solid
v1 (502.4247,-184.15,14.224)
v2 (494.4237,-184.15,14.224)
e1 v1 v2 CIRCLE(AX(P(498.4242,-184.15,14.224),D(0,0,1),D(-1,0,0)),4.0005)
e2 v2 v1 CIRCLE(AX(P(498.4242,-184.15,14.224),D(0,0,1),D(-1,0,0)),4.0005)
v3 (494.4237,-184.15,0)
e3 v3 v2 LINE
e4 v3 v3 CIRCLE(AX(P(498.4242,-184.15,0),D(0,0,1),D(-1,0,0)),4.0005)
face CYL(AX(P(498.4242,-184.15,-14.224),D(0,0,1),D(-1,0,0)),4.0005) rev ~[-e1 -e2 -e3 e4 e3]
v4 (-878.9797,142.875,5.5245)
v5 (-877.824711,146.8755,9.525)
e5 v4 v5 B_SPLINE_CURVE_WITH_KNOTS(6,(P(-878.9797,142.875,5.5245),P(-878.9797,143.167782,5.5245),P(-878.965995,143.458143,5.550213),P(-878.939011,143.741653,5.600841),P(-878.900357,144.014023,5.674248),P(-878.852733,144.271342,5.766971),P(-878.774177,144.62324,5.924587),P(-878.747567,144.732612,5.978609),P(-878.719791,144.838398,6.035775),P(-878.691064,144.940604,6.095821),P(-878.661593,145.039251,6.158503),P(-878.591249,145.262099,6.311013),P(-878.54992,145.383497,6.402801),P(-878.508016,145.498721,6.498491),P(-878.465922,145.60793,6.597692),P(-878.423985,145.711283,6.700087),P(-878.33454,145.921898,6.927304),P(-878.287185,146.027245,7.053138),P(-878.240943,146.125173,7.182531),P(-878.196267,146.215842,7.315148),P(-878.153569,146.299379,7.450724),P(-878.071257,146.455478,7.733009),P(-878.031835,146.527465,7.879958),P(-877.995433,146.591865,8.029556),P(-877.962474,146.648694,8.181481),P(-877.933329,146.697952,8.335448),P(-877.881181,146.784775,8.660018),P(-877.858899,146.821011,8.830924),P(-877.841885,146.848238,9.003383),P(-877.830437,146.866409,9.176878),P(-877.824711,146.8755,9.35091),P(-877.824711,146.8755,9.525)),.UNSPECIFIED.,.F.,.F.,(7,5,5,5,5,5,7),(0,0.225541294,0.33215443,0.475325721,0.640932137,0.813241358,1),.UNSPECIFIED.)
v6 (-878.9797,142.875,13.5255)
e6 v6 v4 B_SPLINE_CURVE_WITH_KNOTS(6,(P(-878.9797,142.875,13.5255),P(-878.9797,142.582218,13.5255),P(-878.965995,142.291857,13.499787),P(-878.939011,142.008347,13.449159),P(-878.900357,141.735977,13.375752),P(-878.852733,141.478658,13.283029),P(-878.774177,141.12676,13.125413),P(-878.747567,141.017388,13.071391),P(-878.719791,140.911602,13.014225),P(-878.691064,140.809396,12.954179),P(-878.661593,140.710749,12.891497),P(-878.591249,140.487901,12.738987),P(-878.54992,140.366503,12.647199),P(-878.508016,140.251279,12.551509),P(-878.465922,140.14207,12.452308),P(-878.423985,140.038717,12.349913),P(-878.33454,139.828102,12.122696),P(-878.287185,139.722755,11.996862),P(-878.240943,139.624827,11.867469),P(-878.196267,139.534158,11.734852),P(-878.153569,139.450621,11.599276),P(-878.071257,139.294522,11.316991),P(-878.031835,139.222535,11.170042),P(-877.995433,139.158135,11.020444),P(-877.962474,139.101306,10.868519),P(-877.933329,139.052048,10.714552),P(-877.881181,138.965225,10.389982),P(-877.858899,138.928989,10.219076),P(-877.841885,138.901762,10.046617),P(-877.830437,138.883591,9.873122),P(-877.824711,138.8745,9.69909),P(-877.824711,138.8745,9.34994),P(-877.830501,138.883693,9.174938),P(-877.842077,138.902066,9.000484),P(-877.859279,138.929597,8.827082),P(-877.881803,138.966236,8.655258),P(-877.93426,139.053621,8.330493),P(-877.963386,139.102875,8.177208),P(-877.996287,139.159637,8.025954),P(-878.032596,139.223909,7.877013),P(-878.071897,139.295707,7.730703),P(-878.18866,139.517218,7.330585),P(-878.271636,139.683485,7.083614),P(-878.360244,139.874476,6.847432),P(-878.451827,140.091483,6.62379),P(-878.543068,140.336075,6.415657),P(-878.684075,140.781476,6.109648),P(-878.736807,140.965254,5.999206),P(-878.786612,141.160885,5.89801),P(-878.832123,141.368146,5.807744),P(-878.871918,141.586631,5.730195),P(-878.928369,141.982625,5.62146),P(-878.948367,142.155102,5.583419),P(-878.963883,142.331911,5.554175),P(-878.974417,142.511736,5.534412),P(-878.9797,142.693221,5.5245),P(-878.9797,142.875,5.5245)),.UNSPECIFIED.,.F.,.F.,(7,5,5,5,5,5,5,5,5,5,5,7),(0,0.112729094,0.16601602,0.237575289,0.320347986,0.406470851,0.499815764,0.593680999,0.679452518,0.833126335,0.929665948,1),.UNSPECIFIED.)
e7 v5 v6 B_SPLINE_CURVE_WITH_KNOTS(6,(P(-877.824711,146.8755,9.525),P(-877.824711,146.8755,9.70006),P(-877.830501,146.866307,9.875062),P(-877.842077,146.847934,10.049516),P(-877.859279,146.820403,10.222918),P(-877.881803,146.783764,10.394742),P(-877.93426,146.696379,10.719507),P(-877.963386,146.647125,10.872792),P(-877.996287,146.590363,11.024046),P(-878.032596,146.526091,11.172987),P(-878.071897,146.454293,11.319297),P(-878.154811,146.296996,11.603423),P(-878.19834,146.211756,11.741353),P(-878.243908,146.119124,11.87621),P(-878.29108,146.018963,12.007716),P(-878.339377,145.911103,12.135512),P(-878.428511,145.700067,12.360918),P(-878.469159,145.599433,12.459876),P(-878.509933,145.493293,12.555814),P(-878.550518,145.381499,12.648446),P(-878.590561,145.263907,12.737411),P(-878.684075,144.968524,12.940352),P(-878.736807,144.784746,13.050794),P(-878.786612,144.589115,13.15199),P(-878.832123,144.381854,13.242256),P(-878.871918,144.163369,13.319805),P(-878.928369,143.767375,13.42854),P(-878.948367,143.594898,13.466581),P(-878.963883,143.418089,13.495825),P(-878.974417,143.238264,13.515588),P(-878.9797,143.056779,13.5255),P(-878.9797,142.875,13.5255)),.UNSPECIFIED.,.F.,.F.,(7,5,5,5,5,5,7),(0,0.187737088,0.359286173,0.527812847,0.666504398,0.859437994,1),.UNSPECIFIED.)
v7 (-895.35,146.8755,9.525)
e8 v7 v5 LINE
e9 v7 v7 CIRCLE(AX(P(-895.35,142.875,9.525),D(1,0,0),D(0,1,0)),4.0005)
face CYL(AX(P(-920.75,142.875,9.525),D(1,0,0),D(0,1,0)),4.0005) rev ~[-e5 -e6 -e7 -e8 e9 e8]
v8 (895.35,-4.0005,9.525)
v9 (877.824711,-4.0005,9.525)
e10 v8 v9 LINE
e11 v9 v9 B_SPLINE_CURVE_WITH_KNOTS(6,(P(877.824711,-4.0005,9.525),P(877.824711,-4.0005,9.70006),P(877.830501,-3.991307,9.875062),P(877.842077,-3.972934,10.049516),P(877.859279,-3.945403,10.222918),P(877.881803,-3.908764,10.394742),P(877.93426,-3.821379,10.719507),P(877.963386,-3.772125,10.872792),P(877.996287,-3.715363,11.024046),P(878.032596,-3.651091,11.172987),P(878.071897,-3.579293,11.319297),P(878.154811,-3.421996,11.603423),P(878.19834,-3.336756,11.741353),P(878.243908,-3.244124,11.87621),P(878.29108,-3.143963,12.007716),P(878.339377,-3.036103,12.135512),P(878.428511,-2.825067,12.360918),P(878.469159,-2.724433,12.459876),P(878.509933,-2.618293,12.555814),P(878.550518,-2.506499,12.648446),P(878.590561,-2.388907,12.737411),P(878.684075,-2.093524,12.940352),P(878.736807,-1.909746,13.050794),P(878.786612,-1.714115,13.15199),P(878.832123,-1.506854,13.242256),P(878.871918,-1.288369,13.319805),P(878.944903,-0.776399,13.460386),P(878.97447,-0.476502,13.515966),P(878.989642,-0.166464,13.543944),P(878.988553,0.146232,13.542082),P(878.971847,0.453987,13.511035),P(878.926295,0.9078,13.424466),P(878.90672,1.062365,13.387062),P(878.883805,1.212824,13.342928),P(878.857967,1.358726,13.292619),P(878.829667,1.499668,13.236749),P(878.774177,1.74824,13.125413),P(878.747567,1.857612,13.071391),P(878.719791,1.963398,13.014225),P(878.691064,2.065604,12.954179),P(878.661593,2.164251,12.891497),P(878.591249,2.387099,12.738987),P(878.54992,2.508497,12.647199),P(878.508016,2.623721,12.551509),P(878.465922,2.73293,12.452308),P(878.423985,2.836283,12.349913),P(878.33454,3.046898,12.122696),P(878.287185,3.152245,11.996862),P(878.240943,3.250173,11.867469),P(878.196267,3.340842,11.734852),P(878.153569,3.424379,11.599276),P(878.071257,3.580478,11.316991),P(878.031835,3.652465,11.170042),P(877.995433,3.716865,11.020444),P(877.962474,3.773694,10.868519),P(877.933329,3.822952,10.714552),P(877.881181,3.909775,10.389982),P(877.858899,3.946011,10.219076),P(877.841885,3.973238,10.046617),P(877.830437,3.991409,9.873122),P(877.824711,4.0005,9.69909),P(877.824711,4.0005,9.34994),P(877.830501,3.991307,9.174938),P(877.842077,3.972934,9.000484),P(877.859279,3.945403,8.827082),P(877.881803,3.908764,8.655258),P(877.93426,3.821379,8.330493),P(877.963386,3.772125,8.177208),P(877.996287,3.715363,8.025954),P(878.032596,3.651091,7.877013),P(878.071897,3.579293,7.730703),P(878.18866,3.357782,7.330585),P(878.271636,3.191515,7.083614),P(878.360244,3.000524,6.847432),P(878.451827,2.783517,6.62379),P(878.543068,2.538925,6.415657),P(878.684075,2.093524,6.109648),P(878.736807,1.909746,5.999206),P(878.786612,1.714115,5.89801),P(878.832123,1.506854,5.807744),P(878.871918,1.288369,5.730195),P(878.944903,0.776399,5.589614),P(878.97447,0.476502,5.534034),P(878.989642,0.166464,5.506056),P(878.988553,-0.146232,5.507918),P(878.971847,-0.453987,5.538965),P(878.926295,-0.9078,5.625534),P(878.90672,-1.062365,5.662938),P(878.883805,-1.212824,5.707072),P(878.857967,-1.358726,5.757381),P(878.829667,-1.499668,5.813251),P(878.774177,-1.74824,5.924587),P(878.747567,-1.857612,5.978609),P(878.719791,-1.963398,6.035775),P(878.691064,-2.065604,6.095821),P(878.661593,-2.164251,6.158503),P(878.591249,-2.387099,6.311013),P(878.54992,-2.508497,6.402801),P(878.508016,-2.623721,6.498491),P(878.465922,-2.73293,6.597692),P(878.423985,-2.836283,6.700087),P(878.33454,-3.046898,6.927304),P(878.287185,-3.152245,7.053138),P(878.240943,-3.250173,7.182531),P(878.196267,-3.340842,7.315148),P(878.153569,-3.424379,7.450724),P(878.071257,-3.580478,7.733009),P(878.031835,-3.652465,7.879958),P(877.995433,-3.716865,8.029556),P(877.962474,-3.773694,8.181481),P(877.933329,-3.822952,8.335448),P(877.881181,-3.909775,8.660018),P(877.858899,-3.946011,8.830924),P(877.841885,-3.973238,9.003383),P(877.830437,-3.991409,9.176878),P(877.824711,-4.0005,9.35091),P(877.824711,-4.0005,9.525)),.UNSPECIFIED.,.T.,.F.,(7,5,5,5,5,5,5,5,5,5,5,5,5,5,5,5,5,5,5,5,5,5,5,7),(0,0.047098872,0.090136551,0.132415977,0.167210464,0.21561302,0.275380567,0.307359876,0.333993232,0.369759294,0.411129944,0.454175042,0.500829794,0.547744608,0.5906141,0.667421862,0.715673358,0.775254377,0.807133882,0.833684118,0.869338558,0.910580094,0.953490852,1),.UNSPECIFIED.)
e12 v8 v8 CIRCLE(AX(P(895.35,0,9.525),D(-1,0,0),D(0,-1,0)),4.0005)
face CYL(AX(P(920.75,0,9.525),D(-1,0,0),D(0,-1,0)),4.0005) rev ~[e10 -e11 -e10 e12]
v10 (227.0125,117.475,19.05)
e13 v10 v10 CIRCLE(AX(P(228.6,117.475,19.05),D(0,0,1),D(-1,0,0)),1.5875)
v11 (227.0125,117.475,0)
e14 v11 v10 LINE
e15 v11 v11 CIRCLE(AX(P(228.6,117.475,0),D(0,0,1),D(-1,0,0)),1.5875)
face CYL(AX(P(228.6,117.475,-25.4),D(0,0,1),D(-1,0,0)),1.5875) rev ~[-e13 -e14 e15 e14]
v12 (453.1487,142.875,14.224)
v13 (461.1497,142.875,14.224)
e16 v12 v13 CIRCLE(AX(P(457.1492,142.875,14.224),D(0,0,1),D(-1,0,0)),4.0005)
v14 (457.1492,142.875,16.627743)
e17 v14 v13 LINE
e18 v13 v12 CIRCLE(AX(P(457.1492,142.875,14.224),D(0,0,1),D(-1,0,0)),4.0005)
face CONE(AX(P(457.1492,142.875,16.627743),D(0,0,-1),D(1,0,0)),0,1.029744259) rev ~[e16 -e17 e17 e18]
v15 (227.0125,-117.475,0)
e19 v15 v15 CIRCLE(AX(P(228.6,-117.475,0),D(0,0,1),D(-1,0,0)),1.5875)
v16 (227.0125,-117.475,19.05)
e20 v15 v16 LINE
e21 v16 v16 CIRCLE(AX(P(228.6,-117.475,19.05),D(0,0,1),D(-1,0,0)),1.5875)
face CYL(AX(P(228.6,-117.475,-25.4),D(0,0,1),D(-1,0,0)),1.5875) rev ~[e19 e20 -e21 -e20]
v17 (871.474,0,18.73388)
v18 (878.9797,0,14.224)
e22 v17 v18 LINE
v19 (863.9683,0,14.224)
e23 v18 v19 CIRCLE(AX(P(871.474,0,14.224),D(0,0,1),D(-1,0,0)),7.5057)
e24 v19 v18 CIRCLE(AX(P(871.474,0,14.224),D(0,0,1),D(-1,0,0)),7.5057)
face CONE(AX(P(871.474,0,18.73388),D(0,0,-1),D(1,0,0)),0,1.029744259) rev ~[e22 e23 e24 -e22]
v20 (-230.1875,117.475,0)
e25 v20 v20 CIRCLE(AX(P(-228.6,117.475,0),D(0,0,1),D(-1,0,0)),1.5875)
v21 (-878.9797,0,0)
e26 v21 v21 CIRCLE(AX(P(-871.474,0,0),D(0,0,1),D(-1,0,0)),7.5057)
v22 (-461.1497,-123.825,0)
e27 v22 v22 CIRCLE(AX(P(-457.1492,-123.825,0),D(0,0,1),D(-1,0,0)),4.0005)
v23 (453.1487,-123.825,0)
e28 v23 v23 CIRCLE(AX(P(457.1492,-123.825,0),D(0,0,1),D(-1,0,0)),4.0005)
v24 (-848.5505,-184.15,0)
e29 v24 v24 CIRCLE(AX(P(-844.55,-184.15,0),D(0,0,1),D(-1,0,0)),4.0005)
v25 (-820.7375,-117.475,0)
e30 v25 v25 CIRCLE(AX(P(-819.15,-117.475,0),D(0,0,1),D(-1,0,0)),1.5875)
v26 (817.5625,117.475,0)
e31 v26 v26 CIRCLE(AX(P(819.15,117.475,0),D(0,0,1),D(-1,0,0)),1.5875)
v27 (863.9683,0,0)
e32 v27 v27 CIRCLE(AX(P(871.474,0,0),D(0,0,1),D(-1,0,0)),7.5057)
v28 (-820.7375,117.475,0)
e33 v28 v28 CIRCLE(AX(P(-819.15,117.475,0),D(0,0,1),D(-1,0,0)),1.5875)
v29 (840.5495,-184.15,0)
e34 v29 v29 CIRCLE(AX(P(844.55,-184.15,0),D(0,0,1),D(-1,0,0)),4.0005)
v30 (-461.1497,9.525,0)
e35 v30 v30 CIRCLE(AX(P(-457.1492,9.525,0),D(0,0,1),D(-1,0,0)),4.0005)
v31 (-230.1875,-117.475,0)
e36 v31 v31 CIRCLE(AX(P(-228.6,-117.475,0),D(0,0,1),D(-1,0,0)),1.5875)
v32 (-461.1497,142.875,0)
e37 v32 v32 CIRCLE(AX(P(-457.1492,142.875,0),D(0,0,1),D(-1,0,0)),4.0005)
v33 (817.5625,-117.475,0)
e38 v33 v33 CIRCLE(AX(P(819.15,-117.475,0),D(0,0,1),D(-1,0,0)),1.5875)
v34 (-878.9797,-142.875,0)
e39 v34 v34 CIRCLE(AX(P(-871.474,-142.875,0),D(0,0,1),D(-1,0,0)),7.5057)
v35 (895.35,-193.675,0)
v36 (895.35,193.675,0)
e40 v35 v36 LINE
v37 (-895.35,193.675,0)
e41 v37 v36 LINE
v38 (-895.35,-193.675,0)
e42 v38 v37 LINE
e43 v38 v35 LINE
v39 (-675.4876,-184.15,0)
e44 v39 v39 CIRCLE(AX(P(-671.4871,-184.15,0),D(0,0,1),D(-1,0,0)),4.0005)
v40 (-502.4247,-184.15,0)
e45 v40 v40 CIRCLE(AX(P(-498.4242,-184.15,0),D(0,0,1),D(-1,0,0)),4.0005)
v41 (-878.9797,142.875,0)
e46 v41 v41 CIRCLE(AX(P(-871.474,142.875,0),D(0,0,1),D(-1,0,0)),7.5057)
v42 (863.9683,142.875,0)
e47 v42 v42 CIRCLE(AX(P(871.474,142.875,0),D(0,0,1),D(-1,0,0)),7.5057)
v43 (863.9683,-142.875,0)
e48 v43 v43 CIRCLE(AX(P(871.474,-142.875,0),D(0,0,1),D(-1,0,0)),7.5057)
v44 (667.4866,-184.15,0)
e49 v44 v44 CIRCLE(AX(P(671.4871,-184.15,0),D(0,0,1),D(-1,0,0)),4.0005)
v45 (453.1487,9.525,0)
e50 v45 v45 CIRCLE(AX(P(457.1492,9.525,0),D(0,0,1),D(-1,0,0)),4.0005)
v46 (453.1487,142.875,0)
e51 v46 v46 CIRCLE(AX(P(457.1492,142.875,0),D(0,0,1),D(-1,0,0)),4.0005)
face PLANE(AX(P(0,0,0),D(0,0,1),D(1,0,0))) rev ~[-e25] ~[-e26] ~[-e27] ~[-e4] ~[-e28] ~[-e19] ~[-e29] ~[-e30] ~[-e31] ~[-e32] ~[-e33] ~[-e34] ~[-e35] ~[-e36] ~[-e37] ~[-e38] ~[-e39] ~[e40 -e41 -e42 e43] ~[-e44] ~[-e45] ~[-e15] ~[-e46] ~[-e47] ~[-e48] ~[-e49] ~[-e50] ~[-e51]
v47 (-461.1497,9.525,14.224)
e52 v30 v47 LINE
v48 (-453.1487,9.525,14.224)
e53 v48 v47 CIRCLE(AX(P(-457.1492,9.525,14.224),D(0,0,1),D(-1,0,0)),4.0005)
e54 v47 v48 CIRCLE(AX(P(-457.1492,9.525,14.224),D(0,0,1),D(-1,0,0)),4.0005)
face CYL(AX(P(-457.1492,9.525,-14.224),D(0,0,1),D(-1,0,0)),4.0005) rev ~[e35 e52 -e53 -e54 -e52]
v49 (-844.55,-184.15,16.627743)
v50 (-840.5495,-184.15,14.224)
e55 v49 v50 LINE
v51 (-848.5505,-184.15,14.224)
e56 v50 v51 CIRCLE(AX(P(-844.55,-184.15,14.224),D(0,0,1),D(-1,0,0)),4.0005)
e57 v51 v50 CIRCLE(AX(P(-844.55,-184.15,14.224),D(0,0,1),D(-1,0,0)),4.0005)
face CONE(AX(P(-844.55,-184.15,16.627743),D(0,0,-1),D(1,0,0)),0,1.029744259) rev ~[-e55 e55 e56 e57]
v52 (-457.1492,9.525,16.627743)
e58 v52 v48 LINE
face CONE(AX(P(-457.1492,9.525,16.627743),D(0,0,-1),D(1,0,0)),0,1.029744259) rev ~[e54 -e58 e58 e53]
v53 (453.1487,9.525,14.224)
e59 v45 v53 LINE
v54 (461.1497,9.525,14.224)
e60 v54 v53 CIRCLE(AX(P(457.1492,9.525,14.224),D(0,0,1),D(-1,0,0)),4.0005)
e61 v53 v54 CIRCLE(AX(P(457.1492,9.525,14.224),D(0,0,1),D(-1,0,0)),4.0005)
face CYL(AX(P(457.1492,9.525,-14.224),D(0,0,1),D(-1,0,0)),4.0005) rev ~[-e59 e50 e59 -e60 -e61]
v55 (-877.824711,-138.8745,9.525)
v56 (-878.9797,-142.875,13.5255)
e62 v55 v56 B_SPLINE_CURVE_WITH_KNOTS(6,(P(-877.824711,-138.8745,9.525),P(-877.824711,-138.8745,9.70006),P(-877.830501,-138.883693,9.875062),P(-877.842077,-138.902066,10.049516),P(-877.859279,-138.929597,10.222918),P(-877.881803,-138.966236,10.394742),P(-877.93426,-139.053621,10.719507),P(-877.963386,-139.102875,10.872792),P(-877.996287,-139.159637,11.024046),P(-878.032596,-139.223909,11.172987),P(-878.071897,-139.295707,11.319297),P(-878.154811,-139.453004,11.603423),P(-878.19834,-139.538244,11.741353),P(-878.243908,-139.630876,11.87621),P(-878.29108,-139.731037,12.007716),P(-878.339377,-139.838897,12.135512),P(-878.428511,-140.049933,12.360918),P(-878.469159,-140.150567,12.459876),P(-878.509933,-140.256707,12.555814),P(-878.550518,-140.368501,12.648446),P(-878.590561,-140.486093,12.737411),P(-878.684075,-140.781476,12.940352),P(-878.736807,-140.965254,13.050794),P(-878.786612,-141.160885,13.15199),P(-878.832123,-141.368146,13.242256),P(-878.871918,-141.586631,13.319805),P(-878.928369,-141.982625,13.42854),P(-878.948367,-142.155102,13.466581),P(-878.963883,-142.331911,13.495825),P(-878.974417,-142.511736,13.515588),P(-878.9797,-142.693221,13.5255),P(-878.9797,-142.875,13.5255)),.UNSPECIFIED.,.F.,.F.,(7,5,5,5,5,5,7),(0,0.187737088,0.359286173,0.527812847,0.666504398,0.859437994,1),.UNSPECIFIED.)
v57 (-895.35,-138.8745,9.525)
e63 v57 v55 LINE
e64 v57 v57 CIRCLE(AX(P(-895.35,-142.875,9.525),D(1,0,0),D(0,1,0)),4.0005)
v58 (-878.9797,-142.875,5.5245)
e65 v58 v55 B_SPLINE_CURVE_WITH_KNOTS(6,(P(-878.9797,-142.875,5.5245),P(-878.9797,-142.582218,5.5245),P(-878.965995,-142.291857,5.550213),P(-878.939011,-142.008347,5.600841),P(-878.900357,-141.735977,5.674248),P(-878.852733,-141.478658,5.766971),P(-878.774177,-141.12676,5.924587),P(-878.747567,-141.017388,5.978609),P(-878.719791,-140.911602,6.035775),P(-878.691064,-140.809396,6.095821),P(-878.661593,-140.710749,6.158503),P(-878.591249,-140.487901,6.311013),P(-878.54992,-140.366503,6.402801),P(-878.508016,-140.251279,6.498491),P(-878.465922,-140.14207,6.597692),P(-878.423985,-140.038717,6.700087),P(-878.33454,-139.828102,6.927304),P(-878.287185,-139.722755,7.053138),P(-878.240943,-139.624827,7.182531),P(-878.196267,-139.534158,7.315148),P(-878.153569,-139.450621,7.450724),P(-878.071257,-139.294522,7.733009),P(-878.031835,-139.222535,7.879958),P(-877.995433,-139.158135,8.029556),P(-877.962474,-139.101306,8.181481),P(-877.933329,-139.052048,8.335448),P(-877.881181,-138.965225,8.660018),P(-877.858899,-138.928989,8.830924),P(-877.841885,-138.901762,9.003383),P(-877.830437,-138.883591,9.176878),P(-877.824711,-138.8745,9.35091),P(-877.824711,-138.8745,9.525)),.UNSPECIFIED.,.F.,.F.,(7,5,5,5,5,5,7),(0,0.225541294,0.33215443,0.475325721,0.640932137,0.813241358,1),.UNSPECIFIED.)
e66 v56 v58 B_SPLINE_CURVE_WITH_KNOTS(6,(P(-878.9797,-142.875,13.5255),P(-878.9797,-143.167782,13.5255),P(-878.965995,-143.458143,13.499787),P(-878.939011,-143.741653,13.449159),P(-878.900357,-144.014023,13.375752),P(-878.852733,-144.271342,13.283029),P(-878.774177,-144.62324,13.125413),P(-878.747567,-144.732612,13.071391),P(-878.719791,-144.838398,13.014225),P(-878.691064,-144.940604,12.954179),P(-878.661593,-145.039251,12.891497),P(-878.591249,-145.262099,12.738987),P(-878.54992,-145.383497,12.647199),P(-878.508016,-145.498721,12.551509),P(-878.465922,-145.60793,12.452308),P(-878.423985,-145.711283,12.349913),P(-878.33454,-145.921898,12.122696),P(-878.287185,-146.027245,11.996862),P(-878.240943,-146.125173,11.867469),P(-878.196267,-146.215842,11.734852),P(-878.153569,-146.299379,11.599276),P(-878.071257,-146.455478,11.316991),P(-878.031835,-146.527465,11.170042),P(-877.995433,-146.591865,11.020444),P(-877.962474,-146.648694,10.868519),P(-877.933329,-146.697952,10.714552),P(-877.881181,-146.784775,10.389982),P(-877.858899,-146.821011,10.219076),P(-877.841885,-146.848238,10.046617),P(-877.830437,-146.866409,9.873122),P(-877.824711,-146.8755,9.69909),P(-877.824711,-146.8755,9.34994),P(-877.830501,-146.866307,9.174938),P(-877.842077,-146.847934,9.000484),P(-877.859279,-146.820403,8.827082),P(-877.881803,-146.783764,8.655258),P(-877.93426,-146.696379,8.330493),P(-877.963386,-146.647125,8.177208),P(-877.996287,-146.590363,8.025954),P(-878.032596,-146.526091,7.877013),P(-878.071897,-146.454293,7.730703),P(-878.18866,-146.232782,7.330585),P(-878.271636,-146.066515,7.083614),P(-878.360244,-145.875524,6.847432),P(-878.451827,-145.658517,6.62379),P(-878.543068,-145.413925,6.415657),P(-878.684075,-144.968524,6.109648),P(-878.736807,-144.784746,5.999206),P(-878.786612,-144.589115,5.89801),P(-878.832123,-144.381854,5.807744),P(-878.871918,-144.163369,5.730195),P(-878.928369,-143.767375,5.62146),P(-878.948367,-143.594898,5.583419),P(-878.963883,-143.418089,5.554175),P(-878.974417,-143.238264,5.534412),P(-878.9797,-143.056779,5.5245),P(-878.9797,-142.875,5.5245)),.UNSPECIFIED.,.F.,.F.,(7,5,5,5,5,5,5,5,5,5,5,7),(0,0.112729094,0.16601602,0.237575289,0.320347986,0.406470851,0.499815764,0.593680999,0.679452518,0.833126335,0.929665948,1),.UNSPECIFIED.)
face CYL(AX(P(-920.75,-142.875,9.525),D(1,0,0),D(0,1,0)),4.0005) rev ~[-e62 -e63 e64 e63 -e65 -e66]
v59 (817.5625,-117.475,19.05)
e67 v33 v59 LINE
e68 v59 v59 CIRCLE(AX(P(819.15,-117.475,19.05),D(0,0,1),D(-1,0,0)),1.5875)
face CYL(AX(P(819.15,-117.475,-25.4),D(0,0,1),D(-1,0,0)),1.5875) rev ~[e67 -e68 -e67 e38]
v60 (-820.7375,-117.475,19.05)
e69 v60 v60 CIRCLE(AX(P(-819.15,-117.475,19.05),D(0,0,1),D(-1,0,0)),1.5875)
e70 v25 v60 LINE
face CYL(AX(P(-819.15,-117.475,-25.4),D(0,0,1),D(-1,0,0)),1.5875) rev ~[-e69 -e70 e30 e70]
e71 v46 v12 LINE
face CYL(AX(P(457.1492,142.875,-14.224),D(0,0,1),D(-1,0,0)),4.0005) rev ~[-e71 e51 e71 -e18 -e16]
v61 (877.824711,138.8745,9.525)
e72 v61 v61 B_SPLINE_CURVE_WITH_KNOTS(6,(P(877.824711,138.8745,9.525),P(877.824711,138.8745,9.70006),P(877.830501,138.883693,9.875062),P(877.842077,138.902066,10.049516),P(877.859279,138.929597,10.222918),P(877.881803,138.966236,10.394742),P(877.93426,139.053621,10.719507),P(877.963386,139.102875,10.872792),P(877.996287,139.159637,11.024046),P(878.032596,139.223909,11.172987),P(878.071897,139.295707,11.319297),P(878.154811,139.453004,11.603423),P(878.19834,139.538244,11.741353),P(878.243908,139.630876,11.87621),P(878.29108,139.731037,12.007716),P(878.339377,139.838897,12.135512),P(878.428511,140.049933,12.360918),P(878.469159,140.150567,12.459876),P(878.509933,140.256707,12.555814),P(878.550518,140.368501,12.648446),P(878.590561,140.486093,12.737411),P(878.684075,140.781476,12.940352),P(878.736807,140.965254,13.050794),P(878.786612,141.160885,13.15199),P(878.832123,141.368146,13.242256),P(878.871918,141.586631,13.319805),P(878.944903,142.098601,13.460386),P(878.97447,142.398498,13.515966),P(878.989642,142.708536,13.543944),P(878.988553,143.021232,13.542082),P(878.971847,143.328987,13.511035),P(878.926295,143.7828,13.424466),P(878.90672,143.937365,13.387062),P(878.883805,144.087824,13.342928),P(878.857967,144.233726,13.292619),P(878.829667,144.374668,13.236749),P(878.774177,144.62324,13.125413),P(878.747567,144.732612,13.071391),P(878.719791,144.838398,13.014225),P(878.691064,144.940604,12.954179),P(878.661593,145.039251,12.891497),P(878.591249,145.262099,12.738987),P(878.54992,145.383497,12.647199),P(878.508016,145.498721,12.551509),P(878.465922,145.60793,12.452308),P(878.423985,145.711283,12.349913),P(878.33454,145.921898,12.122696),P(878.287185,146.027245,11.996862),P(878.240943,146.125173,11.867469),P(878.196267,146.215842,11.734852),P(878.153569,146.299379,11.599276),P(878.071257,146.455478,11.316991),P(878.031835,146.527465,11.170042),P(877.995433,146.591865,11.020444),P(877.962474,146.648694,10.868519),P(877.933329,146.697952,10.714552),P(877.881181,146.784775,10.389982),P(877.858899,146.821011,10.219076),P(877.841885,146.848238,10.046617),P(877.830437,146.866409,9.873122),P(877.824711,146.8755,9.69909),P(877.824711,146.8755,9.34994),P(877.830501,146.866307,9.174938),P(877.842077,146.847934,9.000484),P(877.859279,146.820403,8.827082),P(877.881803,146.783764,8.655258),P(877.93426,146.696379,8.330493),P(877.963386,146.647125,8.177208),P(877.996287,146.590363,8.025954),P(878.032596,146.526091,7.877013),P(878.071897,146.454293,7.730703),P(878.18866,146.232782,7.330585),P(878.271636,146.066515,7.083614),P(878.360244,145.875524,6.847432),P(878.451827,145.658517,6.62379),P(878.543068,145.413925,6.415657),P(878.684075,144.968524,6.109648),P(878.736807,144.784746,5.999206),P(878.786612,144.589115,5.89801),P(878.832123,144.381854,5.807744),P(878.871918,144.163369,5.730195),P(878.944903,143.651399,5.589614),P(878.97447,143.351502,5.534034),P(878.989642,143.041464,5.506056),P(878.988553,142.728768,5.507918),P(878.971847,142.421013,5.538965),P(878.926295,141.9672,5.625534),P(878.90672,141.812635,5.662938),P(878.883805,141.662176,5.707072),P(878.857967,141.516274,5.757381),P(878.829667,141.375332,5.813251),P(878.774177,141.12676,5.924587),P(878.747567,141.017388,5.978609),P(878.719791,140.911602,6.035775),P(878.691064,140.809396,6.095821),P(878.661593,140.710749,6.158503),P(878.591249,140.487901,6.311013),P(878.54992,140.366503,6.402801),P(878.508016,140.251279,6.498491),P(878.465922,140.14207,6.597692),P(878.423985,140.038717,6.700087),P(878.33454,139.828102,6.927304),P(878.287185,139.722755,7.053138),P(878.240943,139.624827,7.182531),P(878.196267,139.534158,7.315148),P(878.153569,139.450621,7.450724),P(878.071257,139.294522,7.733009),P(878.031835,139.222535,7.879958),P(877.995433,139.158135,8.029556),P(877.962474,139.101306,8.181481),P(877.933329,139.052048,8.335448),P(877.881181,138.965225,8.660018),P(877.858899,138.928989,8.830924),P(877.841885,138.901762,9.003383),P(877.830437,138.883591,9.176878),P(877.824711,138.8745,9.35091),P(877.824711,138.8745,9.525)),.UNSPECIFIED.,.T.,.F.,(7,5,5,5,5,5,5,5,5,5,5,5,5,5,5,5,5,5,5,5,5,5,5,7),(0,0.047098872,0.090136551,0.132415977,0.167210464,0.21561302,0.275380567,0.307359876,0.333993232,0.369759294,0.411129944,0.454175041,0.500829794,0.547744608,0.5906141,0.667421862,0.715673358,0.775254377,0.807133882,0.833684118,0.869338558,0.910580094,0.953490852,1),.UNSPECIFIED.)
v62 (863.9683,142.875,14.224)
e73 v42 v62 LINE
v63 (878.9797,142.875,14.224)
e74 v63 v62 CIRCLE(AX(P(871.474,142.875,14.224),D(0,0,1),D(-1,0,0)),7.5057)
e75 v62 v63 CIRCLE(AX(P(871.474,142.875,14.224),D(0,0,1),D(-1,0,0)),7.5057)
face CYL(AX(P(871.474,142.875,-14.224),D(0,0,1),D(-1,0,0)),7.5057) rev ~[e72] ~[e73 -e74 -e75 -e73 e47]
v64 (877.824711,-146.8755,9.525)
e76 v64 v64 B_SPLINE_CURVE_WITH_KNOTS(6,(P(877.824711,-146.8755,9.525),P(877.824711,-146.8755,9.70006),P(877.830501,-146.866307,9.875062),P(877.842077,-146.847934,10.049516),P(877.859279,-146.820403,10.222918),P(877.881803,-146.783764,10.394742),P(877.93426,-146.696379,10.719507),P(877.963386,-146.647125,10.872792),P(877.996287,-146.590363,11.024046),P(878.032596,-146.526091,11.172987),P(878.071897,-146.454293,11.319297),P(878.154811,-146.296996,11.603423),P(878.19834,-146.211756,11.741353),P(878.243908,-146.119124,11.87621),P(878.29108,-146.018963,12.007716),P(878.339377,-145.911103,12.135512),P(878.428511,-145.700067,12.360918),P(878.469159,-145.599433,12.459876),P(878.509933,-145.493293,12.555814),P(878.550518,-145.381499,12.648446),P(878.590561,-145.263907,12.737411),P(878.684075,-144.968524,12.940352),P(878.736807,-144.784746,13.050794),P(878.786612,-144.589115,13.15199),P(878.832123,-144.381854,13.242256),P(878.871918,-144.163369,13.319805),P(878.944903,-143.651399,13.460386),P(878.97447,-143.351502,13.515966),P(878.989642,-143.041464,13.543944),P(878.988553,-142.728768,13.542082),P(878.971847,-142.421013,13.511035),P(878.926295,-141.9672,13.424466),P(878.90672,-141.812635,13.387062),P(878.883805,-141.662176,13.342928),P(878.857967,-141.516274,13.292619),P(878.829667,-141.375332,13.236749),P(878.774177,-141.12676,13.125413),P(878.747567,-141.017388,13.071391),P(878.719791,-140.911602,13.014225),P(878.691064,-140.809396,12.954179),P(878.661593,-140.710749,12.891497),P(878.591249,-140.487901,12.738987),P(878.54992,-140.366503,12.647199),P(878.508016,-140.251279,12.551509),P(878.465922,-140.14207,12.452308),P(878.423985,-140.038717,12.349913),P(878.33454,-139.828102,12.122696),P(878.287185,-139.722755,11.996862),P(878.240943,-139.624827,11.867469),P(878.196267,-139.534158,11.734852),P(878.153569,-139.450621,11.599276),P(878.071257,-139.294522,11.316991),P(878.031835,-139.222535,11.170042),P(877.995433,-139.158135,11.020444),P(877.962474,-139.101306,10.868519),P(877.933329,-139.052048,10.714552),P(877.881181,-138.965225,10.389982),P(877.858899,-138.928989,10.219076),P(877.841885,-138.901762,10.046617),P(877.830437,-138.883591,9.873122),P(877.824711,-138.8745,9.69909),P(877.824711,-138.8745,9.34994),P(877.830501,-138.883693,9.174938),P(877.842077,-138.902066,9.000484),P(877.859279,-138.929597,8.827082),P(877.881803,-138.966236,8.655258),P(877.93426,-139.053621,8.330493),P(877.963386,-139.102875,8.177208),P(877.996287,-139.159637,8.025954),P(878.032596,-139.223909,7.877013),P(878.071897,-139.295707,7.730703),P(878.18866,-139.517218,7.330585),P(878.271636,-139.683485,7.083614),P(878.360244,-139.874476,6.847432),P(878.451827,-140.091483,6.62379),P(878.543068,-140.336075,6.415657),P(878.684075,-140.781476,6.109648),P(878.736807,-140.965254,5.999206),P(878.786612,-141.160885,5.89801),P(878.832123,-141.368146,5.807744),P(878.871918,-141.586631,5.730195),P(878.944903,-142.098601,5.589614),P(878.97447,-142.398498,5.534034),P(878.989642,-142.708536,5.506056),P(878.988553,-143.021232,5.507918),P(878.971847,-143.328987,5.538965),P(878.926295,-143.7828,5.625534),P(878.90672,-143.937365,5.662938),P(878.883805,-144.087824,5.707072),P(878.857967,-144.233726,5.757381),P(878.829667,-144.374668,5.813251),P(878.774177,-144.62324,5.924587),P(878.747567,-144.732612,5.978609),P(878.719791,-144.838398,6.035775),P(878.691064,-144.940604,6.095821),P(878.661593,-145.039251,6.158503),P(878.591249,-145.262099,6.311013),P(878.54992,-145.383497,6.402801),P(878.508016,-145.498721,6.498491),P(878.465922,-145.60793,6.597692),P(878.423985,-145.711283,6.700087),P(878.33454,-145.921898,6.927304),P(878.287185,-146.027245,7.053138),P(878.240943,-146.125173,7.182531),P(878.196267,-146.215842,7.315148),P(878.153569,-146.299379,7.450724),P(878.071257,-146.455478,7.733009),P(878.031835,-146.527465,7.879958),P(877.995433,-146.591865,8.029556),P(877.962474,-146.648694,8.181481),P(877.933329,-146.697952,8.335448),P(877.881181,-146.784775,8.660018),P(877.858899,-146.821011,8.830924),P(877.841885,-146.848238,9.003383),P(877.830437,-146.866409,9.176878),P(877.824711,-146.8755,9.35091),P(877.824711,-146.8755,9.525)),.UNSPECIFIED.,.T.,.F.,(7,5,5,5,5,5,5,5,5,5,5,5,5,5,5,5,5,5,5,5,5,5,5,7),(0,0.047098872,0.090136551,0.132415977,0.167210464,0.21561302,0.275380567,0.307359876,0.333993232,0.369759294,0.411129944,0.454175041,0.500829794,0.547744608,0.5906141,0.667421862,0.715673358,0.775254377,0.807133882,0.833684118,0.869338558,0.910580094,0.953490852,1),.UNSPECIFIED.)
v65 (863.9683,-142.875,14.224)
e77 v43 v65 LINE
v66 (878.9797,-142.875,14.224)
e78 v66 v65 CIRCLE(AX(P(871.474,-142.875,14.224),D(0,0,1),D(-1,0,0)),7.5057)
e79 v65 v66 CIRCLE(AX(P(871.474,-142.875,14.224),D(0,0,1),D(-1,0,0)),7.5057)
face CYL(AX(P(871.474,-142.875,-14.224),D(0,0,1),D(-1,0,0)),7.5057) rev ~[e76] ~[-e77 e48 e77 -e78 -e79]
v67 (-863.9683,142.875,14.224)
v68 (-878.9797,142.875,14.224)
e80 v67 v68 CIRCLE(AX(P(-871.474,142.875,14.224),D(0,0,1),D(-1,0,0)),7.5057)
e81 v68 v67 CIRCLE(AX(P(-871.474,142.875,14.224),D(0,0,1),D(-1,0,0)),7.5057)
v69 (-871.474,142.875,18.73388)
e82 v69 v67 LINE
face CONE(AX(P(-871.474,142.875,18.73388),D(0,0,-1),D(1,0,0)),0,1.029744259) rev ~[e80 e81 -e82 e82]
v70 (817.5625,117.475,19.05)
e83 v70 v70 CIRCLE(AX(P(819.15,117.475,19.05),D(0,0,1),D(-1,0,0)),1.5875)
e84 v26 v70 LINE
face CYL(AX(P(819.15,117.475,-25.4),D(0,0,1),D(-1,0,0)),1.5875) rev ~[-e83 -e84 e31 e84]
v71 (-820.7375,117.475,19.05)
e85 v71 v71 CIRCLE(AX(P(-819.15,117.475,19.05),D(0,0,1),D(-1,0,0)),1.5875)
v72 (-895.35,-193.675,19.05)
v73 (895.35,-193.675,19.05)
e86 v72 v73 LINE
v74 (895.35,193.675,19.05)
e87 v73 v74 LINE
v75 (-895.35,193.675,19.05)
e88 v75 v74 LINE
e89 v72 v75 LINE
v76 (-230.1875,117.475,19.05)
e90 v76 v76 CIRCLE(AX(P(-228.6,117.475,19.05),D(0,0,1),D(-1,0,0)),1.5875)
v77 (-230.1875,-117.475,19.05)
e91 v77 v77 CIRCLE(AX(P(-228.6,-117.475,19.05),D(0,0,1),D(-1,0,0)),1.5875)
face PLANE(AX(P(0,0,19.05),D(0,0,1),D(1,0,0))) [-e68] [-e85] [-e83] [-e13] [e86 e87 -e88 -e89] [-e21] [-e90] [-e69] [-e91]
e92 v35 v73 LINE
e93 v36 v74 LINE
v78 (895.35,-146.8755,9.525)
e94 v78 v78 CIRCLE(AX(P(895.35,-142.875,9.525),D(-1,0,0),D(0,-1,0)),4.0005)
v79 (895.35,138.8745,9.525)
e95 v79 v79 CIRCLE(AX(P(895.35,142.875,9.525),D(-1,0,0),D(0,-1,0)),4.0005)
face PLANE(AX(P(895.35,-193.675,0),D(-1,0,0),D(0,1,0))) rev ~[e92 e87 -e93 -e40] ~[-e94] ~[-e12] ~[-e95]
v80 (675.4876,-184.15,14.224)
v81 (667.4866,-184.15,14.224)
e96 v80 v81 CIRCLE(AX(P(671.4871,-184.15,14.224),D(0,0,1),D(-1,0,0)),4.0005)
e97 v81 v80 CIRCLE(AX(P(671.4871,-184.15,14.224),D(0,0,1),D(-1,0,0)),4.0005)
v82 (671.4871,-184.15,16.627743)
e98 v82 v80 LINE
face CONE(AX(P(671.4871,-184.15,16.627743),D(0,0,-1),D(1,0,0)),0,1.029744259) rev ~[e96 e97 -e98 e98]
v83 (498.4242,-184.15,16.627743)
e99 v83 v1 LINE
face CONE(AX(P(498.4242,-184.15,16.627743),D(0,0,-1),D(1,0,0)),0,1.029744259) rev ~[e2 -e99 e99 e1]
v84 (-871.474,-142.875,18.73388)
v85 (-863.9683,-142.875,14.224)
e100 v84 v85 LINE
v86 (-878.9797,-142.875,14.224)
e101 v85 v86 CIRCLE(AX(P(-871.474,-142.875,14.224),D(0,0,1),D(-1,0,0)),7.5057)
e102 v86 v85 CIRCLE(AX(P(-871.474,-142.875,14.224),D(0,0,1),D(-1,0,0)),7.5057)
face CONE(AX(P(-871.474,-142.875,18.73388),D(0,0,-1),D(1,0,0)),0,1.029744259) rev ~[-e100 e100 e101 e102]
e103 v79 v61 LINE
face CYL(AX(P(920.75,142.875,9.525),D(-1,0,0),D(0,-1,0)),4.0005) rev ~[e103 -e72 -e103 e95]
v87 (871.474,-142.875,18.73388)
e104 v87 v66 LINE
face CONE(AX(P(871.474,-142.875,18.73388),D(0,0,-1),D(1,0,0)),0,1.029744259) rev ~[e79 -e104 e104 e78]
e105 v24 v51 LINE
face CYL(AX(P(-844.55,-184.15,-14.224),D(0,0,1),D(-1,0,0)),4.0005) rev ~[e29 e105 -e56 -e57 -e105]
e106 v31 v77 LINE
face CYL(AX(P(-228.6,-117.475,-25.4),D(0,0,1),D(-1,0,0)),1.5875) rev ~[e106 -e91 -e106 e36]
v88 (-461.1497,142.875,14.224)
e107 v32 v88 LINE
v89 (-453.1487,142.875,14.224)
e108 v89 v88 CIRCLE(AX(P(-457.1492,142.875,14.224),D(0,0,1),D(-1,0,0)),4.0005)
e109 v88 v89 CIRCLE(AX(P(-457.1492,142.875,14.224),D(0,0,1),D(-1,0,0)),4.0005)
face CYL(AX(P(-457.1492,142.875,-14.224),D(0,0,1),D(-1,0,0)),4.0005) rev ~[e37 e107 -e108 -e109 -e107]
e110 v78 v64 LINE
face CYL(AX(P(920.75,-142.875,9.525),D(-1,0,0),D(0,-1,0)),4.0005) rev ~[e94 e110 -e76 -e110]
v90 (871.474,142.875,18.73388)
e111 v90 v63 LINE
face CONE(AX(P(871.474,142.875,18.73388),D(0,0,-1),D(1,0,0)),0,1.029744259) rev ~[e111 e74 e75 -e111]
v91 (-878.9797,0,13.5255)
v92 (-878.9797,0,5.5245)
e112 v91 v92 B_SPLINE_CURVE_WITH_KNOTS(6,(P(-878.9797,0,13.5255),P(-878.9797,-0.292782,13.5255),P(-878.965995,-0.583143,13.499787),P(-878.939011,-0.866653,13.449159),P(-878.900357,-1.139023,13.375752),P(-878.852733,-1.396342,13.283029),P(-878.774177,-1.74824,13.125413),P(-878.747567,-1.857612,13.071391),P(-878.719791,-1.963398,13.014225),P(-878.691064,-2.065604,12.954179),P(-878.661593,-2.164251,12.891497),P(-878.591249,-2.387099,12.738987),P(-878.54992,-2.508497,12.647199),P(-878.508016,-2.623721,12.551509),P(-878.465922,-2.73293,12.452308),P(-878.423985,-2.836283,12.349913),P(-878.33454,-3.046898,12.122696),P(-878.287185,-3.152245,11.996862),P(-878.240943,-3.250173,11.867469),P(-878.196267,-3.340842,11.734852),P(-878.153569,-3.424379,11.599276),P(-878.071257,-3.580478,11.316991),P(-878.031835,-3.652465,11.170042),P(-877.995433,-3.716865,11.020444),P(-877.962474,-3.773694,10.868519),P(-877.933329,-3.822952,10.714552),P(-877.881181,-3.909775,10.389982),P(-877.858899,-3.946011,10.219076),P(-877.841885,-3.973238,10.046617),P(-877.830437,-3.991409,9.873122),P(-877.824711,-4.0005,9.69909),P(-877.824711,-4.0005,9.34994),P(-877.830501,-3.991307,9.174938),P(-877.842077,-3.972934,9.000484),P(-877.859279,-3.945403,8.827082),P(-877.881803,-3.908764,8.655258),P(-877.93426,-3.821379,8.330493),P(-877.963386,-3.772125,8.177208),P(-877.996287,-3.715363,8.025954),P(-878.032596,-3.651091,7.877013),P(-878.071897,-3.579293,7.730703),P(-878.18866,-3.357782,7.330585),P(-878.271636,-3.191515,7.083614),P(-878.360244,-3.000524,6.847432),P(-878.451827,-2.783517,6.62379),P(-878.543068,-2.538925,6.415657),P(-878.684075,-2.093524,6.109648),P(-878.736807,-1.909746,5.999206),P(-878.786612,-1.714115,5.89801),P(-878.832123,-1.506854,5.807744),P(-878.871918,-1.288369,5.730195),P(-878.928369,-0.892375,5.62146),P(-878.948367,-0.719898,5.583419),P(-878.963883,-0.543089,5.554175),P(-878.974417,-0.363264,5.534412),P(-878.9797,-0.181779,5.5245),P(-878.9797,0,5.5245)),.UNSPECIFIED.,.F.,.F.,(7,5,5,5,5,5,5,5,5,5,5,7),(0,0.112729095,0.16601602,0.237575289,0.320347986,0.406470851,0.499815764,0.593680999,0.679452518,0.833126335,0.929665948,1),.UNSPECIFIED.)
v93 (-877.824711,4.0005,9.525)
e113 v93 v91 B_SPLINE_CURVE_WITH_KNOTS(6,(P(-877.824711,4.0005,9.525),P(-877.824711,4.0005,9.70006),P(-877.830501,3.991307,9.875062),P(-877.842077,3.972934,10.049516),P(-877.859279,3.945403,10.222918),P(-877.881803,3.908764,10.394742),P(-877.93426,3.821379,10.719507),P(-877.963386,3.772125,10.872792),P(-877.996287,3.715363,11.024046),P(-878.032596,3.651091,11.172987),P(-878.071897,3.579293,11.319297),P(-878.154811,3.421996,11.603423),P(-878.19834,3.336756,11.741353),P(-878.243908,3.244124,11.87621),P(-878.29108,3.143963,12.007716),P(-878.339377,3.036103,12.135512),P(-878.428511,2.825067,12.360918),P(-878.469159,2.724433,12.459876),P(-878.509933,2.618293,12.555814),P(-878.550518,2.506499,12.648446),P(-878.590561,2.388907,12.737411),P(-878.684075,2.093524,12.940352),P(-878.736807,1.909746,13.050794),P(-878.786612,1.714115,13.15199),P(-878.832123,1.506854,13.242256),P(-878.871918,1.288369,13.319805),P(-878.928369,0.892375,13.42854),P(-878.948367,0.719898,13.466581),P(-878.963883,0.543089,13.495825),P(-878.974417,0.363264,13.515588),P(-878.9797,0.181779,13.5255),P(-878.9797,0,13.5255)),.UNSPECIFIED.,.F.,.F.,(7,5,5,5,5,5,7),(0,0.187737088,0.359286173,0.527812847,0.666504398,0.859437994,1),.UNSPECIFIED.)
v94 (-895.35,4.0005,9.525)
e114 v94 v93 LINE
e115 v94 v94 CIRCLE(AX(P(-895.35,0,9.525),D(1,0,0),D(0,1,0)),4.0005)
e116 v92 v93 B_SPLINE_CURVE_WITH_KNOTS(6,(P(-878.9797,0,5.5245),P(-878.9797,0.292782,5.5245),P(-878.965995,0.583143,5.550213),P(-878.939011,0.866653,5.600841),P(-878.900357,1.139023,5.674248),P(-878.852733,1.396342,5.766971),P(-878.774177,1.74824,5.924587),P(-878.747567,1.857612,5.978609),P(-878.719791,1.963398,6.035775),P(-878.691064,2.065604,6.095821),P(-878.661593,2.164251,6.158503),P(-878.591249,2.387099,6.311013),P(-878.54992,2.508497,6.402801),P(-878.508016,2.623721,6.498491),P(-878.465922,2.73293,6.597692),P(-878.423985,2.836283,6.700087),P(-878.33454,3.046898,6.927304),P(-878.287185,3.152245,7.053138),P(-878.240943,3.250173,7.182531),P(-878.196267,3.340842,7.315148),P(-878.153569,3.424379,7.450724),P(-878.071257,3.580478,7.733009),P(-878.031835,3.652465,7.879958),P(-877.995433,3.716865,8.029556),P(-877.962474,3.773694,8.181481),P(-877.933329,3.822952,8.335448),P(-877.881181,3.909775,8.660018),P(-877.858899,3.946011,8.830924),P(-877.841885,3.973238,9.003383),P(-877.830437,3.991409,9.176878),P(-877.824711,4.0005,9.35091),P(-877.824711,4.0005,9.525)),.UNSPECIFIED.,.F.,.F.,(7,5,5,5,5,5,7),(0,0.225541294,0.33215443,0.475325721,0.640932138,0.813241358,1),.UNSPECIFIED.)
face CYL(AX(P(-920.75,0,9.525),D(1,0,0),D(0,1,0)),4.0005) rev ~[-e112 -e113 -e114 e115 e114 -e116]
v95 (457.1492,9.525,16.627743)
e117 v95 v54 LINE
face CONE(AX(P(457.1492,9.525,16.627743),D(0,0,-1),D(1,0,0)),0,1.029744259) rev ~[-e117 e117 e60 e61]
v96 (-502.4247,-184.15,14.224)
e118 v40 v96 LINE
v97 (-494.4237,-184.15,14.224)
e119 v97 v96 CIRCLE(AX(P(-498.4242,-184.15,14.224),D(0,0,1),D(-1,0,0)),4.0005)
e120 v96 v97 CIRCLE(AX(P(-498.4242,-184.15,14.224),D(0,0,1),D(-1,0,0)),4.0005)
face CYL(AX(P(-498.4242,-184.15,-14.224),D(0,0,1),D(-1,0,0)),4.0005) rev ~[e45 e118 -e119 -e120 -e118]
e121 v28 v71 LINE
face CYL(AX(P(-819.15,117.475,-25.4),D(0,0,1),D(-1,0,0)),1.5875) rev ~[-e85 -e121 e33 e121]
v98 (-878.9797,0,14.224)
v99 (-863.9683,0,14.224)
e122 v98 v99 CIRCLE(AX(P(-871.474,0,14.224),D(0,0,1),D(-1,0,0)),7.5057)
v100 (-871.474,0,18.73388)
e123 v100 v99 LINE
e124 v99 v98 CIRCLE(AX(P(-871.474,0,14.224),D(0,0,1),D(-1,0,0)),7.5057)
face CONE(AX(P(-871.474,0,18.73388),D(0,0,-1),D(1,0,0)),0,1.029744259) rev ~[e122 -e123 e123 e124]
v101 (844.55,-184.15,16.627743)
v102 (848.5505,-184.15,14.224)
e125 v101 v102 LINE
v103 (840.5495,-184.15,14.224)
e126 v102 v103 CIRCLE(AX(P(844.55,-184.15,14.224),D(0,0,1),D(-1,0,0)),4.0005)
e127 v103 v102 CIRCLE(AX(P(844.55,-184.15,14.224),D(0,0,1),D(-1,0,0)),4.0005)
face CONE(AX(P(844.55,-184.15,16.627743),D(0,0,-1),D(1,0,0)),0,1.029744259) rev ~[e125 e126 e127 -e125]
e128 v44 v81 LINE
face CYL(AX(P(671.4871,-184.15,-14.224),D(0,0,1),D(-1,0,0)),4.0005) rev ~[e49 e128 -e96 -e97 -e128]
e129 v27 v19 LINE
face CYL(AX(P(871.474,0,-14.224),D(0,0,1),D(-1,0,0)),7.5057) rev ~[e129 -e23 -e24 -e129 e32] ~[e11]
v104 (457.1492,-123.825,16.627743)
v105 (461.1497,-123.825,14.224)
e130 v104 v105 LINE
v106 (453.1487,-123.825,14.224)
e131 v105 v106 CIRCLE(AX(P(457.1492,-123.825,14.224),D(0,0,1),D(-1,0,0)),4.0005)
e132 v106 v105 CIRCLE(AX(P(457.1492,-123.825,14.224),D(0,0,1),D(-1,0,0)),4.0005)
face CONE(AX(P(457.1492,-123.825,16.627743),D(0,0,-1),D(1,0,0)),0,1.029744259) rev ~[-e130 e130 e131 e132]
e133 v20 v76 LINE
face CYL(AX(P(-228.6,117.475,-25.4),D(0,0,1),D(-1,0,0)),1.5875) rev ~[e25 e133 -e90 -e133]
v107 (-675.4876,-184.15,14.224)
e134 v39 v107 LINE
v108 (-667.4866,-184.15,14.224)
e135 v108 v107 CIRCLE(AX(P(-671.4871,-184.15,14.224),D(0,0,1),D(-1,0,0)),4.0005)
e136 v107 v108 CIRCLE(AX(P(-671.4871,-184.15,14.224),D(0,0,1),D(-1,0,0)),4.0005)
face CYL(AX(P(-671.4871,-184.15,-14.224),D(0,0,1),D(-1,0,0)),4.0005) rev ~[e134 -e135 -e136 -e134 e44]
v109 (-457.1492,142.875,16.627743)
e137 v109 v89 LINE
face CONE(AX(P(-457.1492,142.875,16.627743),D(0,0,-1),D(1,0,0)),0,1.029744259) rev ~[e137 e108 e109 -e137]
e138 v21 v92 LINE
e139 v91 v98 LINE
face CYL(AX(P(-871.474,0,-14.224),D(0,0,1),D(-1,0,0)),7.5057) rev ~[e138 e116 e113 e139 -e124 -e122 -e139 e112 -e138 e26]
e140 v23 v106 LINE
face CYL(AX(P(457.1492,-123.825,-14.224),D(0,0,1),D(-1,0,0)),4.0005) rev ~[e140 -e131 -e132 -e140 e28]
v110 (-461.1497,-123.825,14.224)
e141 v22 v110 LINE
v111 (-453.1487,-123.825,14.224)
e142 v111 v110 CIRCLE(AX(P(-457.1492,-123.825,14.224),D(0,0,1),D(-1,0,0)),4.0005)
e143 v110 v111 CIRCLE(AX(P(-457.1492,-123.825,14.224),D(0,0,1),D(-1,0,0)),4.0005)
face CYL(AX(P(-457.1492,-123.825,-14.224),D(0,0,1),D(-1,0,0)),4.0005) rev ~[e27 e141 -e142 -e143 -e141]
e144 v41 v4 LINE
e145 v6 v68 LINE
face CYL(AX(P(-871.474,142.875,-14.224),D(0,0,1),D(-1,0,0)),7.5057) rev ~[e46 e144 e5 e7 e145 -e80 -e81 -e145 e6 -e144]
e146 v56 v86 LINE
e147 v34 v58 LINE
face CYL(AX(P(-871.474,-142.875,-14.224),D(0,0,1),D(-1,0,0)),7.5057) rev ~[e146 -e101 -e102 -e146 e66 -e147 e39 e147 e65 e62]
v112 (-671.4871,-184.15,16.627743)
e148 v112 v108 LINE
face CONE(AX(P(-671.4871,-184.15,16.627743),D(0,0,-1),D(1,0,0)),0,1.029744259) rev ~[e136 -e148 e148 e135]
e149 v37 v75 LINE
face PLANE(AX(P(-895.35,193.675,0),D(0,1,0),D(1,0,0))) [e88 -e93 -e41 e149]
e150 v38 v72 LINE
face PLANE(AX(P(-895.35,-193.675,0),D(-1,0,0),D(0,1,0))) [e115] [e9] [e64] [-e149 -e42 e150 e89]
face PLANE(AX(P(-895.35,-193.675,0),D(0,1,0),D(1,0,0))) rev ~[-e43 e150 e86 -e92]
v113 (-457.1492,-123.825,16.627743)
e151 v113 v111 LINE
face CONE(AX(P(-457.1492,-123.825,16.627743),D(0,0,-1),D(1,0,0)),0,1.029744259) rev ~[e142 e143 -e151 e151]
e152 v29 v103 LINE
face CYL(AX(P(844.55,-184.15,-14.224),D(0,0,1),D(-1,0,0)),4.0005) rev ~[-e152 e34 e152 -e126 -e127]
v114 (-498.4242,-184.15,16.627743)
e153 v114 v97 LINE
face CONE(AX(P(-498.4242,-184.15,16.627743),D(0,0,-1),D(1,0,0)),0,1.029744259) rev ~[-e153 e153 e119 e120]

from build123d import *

# Parameters (mm, degrees)
F0_W      = 1790.7
F0_H      = 387.35
F1_DEPTH  = 19.05
F3_D      = 8.001
F3_DEPTH  = 14.224
F3_TIP    = 2.4037429064
F5_D      = 15.0114
F5_DEPTH  = 14.224
F5_TIP    = 4.5098795482
F7_D      = 3.175
F7_DEPTH  = 25.4
F7_TIP    = 0.9538662327
F9_D      = 8.001
F9_DEPTH  = 25.4
F9_TIP    = 2.4037429064
F11_D     = 8.001
F11_DEPTH = 25.4
F11_TIP   = 2.4037429064


with BuildPart() as f1:
    # F0 (on Top) → F1 (new body)
    with BuildSketch(Plane.XY):
        Rectangle(F0_W, F0_H)
    extrude(amount=F1_DEPTH)

    # F3
    with Locations(Plane(origin=(0, 0, 0), x_dir=(1, 0, 0), z_dir=(0, 0, -1))):
        with Locations((-844.55, 184.15), (-671.4871, 184.15), (-498.4242, 184.15), (-457.1492, 123.825), (-457.1492, -9.525), (-457.1492, -142.875), (457.1492, -142.875), (457.1492, -9.525), (457.1492, 123.825), (498.4242, 184.15), (671.4871, 184.15), (844.55, 184.15)):
            Hole(F3_D / 2, depth=F3_DEPTH)
            with Locations((0, 0, -(F3_DEPTH + F3_TIP / 2))):  # 118° drill point
                Cone(0, F3_D / 2, F3_TIP, mode=Mode.SUBTRACT)

    # F5
    with Locations(Plane(origin=(0, 0, 0), x_dir=(1, 0, 0), z_dir=(0, 0, -1))):
        with Locations((-871.474, 142.875), (-871.474, 0), (-871.474, -142.875), (871.474, 142.875), (871.474, 0), (871.474, -142.875)):
            Hole(F5_D / 2, depth=F5_DEPTH)
            with Locations((0, 0, -(F5_DEPTH + F5_TIP / 2))):  # 118° drill point
                Cone(0, F5_D / 2, F5_TIP, mode=Mode.SUBTRACT)

    # F7
    with Locations(Plane(origin=(0, 0, 0), x_dir=(1, 0, 0), z_dir=(0, 0, -1))):
        with Locations((-819.15, 117.475), (-819.15, -117.475), (-228.6, 117.475), (-228.6, -117.475), (228.6, 117.475), (819.15, 117.475), (819.15, -117.475), (228.6, -117.475)):
            Hole(F7_D / 2, depth=F7_DEPTH)
            with Locations((0, 0, -(F7_DEPTH + F7_TIP / 2))):  # 118° drill point
                Cone(0, F7_D / 2, F7_TIP, mode=Mode.SUBTRACT)

    # F9
    with Locations(Plane.YZ.offset(895.35)):
        with Locations((-142.875, 9.525), (142.875, 9.525), (0, 9.525)):
            Hole(F9_D / 2, depth=F9_DEPTH)
            with Locations((0, 0, -(F9_DEPTH + F9_TIP / 2))):  # 118° drill point
                Cone(0, F9_D / 2, F9_TIP, mode=Mode.SUBTRACT)

    # F11
    with Locations(Plane(origin=(-895.35, 0, 0), x_dir=(0, -1, 0), z_dir=(-1, 0, 0))):
        with Locations((-142.875, 9.525), (0, 9.525), (142.875, 9.525)):
            Hole(F11_D / 2, depth=F11_DEPTH)
            with Locations((0, 0, -(F11_DEPTH + F11_TIP / 2))):  # 118° drill point
                Cone(0, F11_D / 2, F11_TIP, mode=Mode.SUBTRACT)


solid = f1.part
